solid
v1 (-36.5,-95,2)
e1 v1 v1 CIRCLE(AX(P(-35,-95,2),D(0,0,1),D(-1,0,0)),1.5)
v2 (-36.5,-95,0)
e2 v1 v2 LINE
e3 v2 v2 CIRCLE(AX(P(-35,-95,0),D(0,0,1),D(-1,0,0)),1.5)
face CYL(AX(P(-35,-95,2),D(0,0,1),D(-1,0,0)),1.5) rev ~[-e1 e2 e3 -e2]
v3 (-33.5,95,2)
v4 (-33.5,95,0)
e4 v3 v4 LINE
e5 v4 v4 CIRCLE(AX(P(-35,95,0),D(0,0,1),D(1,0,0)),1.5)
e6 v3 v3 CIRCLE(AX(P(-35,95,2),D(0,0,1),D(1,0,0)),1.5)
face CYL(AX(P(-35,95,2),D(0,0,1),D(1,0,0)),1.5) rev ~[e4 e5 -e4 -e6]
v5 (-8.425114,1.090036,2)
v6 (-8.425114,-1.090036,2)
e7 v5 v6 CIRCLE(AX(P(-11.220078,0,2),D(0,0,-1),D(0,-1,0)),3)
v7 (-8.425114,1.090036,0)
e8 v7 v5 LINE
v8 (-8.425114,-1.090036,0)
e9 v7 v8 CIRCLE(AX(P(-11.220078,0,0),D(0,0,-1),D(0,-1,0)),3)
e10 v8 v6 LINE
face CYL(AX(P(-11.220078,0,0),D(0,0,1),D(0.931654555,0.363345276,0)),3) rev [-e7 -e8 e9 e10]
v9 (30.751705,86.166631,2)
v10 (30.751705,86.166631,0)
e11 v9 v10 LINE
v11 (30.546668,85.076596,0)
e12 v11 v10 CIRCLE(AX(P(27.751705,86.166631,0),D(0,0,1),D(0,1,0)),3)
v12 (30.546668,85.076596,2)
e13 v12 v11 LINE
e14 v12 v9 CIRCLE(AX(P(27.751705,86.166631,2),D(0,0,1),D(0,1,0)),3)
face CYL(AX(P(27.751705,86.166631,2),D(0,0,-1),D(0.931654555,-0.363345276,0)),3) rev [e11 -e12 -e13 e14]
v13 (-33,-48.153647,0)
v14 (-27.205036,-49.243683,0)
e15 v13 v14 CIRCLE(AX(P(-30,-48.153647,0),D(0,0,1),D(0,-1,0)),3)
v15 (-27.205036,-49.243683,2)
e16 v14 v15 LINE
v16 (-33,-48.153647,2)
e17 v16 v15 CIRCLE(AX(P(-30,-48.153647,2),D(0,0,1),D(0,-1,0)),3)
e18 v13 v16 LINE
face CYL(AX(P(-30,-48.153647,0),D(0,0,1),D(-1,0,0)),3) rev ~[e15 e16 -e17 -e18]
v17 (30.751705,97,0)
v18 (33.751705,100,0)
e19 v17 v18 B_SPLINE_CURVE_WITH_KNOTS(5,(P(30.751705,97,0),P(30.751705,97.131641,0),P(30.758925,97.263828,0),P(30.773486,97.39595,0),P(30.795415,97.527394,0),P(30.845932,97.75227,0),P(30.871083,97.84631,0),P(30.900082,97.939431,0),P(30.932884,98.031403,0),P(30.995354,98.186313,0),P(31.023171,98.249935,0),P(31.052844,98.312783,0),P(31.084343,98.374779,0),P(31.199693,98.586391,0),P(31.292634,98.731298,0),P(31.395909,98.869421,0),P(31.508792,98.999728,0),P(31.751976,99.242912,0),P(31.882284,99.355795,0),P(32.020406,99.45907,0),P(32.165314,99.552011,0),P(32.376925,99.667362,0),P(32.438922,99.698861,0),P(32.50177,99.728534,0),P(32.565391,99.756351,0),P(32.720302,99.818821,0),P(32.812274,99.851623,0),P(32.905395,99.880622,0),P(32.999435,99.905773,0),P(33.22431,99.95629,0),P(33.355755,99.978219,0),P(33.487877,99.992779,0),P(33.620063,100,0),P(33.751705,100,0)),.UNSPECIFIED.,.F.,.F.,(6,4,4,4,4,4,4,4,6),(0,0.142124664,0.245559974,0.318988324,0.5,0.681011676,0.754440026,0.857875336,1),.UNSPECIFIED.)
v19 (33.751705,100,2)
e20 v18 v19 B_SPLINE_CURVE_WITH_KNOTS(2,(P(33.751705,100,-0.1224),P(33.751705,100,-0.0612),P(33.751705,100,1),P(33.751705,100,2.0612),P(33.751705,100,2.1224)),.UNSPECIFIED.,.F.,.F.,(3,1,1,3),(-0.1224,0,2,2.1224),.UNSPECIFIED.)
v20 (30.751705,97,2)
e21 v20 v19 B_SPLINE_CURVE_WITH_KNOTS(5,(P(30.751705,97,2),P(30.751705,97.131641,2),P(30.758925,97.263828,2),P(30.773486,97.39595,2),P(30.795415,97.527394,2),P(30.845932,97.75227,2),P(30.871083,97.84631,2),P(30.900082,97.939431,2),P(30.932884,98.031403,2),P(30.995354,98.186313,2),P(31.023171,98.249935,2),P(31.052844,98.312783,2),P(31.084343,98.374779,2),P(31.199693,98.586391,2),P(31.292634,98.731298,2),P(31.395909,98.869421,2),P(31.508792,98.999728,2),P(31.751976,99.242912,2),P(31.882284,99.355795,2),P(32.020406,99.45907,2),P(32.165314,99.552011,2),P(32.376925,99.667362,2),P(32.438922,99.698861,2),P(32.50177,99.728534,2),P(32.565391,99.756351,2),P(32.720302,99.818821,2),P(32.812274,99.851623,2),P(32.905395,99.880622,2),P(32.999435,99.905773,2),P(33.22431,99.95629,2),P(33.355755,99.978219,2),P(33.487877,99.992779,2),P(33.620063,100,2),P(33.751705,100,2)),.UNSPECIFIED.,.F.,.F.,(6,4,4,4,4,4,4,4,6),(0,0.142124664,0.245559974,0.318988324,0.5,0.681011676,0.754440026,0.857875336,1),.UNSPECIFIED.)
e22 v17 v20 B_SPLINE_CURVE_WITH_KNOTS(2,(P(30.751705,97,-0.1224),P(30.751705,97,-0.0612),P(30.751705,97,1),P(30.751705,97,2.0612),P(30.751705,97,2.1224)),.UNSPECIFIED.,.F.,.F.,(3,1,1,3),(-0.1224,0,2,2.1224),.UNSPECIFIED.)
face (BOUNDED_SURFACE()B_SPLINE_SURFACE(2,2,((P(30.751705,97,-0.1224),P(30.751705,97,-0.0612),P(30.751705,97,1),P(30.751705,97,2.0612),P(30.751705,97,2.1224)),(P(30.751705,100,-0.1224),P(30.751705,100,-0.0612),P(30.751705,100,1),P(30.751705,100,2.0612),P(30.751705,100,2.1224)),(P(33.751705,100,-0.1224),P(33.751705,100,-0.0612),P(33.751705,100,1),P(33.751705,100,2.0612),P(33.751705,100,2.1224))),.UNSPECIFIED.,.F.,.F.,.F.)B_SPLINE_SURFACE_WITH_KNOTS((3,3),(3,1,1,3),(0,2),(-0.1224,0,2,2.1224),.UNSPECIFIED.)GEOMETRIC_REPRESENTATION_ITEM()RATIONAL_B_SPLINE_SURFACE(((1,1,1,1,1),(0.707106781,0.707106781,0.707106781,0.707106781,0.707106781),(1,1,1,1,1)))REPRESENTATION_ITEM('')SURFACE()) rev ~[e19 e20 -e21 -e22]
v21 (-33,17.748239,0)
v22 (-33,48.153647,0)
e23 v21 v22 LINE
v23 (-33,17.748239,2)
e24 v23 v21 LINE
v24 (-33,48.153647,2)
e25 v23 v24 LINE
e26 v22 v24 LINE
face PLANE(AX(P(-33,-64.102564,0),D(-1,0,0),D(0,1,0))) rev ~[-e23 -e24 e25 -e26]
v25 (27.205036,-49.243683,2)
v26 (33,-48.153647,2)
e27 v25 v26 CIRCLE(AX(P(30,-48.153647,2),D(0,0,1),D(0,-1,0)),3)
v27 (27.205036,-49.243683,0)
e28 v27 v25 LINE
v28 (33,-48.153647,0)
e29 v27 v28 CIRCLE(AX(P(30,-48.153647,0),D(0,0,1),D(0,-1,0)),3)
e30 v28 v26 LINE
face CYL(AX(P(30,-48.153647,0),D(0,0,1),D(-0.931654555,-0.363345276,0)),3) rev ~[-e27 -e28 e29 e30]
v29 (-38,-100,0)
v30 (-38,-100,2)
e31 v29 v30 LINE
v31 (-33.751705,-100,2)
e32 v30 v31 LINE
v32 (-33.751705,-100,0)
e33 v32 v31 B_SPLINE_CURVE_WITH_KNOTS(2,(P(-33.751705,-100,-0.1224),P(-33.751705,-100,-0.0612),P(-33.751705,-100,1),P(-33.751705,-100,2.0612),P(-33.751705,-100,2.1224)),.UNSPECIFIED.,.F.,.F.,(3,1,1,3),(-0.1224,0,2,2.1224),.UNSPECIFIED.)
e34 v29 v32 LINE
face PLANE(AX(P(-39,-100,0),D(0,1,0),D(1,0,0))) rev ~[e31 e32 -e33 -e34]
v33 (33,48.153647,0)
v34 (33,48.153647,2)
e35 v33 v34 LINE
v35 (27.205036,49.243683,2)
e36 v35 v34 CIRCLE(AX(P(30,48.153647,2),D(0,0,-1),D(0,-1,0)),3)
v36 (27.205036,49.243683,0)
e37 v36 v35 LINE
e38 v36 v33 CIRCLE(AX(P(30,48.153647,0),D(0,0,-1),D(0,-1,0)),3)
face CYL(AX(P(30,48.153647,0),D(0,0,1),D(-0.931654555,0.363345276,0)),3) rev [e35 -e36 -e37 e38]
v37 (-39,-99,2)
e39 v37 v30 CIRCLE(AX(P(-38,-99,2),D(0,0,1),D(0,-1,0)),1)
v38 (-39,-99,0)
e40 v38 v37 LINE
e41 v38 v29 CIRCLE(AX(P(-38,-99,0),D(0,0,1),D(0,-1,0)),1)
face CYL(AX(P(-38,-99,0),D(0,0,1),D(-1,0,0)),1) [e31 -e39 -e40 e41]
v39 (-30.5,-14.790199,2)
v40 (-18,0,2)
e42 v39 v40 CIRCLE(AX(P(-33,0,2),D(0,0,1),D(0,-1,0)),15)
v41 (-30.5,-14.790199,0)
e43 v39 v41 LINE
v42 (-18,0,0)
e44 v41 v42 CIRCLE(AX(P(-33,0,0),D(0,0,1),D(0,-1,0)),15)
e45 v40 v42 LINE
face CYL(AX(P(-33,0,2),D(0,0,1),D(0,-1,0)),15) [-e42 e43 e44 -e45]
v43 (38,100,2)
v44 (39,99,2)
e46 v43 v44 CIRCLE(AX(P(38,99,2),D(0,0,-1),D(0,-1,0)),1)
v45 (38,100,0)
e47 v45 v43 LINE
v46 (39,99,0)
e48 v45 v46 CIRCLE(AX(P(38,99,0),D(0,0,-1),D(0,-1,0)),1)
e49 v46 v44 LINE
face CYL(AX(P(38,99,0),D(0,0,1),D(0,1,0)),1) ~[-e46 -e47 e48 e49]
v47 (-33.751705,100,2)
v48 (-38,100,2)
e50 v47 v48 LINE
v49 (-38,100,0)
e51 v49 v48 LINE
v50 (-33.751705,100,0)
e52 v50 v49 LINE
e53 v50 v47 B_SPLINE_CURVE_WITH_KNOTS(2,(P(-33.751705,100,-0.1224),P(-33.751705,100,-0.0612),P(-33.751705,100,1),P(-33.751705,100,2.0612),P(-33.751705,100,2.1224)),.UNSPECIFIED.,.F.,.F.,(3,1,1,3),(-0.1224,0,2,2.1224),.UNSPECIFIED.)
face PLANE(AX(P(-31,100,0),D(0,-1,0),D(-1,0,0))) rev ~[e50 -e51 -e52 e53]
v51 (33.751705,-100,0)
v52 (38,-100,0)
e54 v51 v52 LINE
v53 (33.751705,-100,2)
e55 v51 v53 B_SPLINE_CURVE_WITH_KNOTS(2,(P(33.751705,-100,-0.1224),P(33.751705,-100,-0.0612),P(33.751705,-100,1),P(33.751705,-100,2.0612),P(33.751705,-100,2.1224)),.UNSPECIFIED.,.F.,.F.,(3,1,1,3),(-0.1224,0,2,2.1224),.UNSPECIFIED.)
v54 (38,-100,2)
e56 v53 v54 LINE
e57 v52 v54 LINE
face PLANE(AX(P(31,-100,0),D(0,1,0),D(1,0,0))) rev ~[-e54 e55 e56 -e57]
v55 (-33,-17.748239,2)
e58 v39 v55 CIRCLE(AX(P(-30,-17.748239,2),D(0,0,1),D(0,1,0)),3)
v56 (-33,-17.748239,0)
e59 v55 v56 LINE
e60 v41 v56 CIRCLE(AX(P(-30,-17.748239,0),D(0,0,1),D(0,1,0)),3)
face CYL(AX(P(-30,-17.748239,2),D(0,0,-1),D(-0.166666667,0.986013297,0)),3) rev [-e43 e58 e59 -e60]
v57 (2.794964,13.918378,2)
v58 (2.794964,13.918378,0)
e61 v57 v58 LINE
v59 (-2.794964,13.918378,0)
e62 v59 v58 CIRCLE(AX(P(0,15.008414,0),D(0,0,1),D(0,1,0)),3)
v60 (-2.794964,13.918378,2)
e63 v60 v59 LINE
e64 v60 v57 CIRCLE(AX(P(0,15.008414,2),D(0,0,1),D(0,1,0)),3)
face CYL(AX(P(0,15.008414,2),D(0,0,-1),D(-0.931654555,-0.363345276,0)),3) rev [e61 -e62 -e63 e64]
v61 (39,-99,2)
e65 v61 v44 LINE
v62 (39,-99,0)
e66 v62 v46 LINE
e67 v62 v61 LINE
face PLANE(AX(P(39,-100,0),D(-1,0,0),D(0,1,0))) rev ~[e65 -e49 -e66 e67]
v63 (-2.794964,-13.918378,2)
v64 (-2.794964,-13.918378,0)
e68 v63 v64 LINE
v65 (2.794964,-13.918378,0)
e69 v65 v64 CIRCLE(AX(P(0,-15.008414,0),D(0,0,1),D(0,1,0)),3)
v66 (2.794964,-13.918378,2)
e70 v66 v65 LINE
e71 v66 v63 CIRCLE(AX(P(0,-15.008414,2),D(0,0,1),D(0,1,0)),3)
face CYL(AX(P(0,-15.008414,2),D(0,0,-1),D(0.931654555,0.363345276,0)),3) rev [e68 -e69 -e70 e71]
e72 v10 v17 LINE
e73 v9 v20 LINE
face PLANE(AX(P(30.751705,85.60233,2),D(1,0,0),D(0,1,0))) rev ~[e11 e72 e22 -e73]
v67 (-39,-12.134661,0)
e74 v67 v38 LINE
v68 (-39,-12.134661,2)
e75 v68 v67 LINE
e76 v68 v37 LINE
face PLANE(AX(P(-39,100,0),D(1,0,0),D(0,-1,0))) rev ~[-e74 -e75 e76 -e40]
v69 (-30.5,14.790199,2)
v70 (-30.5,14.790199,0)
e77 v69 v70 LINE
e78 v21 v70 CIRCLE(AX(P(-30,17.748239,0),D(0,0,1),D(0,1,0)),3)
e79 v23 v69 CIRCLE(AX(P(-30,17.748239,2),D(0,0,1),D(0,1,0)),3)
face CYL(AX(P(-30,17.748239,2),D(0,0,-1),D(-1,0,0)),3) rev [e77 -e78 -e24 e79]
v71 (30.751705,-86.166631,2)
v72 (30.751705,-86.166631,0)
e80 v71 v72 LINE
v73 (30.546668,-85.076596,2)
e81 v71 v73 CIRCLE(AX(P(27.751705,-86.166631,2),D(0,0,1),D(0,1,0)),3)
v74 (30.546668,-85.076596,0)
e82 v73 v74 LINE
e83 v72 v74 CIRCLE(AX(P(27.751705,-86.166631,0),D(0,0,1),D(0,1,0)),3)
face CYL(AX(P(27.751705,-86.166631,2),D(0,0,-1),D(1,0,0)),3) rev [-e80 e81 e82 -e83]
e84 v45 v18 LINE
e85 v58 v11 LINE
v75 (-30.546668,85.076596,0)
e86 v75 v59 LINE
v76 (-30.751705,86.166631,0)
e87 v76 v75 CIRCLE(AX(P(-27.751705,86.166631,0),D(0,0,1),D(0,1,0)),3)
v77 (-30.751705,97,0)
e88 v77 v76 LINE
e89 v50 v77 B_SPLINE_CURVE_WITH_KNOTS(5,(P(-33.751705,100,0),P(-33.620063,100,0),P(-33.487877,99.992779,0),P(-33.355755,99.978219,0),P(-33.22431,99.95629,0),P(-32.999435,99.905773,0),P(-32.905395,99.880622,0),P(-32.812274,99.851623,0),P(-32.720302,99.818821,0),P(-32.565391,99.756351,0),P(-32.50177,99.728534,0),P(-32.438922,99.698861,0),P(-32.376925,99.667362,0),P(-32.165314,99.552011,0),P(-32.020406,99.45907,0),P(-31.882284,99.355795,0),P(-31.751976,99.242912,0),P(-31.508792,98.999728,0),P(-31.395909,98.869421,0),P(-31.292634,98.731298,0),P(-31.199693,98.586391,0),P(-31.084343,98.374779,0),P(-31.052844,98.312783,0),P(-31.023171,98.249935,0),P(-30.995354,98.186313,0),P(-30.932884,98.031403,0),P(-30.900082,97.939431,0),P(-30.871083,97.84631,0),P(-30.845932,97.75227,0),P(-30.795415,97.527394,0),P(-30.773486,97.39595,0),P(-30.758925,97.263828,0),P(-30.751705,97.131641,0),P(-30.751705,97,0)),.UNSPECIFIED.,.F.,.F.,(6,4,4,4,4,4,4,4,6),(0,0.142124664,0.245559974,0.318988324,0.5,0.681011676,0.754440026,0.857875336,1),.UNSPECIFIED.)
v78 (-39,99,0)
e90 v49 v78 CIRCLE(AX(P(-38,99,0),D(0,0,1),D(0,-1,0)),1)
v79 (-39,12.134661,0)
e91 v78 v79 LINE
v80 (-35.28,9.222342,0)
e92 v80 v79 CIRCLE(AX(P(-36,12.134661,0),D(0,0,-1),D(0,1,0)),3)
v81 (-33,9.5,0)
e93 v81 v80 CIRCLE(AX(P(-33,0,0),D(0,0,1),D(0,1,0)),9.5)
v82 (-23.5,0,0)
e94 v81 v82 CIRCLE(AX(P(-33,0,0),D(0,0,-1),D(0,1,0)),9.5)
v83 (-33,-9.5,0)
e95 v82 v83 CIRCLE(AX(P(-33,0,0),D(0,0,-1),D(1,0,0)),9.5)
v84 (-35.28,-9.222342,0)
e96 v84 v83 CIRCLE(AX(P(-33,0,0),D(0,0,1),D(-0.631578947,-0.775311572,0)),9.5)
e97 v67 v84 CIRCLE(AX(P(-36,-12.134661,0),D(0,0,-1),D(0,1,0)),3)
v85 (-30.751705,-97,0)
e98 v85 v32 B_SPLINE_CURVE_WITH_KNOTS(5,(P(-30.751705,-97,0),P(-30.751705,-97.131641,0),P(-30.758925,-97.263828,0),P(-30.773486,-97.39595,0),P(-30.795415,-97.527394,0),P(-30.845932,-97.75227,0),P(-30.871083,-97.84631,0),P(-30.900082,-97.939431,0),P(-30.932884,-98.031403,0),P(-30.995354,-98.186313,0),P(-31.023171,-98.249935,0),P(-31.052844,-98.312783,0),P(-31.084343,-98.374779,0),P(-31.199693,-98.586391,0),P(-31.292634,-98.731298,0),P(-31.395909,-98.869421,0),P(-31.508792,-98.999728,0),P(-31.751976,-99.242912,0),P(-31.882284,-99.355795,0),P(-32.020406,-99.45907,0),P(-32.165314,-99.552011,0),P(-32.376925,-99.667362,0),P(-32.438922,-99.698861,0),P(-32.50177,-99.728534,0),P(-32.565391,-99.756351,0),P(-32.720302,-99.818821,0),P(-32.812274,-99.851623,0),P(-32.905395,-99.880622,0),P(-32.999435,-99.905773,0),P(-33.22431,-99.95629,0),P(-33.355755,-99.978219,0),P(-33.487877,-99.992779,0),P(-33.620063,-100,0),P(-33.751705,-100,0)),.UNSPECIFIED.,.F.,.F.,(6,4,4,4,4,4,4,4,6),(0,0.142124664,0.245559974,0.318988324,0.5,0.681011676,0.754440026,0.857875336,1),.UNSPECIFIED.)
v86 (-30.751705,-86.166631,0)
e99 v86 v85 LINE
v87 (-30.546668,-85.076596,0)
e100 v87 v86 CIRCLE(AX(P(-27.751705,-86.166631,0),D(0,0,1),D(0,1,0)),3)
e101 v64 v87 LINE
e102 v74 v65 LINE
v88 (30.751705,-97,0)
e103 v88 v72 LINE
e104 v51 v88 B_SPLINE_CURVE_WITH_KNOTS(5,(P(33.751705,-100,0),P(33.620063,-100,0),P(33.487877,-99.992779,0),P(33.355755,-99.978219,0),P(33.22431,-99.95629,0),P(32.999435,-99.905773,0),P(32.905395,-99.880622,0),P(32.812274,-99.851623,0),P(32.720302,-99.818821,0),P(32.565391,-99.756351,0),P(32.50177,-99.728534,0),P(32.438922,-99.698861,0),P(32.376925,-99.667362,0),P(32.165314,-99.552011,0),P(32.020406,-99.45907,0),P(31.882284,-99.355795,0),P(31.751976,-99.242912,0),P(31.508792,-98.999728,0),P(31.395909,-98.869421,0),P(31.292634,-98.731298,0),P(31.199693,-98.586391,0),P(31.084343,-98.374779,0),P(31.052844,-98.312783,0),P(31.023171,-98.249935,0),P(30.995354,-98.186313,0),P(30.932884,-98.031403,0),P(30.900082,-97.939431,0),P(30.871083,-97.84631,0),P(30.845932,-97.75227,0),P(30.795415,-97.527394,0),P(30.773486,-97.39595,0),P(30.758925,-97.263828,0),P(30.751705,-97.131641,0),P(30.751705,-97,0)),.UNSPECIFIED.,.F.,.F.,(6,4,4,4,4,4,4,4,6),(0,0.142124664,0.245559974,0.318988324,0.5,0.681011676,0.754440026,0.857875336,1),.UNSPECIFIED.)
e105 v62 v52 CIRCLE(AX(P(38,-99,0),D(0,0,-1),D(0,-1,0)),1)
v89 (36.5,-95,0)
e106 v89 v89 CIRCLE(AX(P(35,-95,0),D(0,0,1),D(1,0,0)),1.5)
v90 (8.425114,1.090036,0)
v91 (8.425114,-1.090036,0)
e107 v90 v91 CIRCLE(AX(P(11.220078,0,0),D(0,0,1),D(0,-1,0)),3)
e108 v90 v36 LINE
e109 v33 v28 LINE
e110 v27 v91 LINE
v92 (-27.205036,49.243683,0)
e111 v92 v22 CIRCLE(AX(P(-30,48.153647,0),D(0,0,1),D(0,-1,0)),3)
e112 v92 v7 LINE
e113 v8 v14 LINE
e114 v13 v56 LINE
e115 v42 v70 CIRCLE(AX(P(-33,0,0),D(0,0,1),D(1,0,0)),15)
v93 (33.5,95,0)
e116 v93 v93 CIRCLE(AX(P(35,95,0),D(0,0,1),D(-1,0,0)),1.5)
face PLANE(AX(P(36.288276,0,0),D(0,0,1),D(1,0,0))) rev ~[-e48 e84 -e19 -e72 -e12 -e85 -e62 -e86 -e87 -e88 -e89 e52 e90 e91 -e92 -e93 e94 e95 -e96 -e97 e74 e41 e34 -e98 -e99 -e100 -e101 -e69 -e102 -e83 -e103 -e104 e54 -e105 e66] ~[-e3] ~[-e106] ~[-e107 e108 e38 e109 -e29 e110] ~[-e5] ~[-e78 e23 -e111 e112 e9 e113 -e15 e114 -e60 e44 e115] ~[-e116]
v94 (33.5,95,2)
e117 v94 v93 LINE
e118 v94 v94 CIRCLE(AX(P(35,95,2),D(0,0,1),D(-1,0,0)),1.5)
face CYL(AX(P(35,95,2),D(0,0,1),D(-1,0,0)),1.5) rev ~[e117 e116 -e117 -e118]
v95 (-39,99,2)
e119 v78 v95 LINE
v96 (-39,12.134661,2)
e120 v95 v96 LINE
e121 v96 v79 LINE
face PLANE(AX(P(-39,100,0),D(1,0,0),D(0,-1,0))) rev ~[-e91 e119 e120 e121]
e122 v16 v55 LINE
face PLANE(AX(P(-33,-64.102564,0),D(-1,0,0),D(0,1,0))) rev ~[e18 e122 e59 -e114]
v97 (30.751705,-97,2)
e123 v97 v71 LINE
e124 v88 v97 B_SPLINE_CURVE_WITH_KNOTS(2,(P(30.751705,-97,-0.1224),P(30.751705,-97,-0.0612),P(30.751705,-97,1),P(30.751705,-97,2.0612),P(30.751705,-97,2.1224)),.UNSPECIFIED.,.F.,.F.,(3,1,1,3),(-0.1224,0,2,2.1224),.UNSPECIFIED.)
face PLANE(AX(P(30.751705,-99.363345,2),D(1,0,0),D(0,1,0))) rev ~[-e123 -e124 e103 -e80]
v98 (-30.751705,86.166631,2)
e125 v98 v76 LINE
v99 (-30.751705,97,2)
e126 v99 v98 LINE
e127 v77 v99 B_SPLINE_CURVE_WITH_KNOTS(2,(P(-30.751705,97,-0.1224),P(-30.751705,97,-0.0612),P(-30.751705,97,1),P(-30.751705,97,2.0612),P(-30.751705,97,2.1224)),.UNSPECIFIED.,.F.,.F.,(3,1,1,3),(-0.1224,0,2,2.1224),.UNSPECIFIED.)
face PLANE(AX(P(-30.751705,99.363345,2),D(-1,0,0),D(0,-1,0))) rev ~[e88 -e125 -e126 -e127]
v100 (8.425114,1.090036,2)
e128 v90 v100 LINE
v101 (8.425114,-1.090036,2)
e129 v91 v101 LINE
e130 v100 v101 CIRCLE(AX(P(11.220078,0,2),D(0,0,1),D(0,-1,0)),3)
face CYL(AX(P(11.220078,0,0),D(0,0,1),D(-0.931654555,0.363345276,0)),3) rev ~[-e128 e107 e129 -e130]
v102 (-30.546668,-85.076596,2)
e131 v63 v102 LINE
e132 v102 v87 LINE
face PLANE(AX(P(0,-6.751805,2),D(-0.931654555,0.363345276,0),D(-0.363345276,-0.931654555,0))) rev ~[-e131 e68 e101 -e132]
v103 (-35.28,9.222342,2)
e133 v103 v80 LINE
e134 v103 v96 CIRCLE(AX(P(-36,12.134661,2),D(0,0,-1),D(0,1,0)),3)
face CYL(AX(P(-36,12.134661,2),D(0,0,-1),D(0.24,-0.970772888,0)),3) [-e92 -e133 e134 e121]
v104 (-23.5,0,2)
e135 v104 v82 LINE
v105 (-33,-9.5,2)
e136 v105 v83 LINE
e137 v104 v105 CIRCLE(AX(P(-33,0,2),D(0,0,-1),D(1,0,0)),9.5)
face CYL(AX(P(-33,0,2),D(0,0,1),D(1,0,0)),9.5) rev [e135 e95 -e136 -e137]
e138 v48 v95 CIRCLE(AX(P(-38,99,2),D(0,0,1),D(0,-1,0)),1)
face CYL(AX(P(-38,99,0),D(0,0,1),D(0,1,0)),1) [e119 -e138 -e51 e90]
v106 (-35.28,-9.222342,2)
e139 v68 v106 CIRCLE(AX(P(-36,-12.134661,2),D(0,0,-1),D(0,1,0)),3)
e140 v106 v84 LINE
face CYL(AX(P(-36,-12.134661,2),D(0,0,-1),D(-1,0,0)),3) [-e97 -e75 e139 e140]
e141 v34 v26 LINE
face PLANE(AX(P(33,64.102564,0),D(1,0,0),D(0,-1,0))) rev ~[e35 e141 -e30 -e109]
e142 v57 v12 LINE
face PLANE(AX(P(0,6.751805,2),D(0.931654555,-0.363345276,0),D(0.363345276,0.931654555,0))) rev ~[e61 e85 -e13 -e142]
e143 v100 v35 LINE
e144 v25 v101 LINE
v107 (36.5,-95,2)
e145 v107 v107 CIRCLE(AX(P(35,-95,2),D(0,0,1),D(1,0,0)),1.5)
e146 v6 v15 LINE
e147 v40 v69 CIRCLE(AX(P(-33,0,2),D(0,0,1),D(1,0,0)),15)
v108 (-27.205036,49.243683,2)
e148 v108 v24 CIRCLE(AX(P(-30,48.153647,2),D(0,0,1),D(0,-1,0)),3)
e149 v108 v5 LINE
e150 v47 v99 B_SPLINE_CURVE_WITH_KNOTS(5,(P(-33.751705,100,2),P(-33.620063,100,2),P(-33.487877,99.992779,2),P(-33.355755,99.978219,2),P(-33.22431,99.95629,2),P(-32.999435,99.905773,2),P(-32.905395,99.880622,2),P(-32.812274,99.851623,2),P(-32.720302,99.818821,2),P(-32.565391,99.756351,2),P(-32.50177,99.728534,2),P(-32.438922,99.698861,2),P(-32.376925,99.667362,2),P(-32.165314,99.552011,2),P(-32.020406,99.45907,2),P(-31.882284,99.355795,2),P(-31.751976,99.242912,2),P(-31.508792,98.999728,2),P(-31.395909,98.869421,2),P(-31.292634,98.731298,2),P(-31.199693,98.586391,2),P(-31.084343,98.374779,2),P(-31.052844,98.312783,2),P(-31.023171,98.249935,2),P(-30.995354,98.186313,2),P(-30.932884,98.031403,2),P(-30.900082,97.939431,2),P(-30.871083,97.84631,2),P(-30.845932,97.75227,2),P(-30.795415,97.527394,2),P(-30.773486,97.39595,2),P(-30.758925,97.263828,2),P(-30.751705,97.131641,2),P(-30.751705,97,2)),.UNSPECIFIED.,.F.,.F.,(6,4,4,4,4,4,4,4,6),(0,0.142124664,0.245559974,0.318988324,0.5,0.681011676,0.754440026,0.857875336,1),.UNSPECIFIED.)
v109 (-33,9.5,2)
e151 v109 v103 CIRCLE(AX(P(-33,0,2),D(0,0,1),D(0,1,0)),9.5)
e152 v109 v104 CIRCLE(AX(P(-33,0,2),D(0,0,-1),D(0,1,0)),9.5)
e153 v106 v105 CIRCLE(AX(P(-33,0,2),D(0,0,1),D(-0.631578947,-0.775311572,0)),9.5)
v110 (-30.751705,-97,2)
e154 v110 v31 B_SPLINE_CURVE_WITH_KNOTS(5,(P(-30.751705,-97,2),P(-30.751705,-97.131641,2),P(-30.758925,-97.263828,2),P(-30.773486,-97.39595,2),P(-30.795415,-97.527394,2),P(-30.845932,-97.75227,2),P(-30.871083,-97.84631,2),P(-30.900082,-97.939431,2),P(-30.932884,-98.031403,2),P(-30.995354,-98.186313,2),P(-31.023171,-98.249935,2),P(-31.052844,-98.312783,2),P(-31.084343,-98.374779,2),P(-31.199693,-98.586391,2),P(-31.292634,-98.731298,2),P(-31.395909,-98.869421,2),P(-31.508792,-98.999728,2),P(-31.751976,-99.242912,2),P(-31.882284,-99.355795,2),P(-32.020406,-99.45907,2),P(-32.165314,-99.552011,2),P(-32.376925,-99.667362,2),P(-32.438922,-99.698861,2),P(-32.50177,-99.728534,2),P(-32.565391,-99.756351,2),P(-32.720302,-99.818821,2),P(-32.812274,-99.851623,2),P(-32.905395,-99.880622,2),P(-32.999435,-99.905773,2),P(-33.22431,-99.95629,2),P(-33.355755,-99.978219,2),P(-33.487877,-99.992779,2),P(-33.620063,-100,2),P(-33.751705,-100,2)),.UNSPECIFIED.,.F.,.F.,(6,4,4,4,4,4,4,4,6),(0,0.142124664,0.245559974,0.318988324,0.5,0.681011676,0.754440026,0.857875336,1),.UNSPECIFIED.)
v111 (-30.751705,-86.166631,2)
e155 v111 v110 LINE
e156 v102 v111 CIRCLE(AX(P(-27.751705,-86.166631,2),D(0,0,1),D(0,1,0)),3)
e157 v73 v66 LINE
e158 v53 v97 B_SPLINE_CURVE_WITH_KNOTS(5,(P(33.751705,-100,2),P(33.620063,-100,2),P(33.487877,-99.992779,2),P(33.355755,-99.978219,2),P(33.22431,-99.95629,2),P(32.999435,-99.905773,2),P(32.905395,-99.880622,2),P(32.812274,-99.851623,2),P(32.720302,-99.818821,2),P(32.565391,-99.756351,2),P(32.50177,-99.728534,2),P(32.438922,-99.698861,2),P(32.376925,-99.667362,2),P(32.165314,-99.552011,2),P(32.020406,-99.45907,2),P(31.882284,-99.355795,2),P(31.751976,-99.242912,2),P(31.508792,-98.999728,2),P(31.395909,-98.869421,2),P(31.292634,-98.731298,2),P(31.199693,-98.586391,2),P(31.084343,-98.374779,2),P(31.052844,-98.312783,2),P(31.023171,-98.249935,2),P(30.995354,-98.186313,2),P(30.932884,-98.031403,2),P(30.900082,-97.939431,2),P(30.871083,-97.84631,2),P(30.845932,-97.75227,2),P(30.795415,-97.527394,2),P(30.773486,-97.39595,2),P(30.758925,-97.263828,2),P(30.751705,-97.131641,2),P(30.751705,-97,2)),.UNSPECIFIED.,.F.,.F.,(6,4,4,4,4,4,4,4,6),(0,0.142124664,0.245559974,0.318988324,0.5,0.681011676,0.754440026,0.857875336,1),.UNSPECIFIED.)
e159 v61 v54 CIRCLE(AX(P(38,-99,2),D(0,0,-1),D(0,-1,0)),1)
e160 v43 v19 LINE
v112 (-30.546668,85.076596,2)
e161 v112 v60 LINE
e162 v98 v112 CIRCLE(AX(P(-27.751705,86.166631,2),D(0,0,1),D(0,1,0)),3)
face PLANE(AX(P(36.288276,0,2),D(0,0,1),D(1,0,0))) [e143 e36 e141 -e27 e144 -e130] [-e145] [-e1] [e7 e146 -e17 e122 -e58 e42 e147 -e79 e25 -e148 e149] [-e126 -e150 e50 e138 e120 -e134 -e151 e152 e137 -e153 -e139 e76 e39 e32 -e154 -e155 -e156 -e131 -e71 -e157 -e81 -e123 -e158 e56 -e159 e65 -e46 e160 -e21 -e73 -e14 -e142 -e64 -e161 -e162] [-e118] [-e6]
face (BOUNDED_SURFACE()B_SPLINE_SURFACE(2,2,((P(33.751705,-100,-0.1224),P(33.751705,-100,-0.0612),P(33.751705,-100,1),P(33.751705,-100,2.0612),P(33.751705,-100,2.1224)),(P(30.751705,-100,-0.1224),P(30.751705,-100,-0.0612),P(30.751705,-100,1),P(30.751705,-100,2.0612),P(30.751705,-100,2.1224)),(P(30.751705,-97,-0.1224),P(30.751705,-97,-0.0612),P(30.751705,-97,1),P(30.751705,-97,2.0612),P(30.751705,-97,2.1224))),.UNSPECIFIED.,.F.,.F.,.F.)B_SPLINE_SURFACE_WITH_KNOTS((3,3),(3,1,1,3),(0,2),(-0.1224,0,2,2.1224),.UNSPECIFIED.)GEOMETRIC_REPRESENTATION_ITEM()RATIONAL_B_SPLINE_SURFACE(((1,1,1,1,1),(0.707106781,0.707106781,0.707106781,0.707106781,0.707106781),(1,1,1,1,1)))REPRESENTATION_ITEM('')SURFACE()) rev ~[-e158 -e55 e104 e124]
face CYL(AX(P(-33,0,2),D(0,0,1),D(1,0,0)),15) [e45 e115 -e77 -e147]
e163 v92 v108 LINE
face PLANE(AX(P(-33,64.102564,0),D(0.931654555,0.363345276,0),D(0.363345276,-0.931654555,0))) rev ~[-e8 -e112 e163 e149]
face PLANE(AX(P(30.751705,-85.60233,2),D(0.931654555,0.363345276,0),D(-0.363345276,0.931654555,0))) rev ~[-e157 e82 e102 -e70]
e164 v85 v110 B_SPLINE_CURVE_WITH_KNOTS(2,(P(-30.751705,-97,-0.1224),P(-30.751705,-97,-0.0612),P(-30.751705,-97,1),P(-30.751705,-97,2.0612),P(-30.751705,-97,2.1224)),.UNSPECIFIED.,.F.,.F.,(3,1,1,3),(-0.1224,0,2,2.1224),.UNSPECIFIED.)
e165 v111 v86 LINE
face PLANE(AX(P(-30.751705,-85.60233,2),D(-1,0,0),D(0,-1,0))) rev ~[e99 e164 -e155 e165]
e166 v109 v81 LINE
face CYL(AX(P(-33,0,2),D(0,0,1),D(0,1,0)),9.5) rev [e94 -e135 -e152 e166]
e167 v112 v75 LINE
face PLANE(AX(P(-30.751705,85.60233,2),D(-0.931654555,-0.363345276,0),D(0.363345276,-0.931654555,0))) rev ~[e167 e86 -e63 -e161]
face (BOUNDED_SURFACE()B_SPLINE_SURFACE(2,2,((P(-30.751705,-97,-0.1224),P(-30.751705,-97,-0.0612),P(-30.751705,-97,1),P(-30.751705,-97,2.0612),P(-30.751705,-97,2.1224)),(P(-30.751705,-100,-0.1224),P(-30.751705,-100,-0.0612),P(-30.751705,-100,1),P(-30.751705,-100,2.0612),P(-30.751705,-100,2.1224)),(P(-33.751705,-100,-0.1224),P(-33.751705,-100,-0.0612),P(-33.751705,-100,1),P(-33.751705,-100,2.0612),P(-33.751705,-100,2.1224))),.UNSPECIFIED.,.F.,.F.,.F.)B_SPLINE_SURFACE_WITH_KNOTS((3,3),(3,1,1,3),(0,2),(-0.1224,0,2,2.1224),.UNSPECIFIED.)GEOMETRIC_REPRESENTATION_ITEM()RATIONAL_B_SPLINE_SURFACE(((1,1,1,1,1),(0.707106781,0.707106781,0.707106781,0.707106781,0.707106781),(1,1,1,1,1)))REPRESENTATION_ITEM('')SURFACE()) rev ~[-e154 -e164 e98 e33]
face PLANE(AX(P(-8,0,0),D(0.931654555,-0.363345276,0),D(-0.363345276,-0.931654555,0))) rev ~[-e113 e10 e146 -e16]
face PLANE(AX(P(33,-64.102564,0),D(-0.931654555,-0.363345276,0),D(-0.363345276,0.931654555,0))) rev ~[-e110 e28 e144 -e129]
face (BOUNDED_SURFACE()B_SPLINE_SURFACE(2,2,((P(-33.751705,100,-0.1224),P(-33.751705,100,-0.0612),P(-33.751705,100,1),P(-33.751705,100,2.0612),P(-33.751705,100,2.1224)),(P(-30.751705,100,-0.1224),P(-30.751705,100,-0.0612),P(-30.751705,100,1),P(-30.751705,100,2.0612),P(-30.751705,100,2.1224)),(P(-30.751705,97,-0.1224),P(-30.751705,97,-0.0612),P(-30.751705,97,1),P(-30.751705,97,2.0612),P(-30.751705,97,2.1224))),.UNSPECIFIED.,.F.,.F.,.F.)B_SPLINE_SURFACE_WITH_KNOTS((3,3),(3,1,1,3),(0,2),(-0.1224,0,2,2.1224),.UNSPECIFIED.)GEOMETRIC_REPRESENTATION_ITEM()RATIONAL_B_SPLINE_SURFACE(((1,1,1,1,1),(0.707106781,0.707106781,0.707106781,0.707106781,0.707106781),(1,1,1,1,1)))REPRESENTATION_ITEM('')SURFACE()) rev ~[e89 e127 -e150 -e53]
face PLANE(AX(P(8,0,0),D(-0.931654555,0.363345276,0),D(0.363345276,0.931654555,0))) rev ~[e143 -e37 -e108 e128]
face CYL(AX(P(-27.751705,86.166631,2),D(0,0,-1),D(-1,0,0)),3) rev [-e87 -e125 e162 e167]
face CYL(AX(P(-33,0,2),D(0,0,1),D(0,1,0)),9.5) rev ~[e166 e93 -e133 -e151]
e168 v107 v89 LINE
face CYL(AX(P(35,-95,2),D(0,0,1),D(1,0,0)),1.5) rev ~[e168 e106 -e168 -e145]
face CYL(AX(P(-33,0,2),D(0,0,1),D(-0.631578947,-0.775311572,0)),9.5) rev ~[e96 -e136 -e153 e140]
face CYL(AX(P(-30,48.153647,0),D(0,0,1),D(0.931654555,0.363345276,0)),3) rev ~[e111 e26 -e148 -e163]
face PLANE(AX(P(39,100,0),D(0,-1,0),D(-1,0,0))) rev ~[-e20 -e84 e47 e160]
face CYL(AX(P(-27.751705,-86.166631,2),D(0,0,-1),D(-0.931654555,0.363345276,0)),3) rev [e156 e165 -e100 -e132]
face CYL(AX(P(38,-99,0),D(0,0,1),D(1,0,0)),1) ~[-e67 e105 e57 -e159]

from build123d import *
from build123d.topology import SkipClean

# Parameters (mm, degrees)
EXTRUDE_1_DEPTH     = 2
SKETCH_4_R          = 1.5
CUT_EXTRUDE_3_DEPTH = 108.354552768
FILLET_4_R          = 1
CUT_EXTRUDE_5_DEPTH = 108.354552768
FILLET_7_R          = 3
EXTRUDE_2_DEPTH     = 2
CUT_EXTRUDE_6_DEPTH = 108.354552899
FILLET_8_R          = 3


with BuildPart() as part:
    # 草图1 → 凸台-拉伸1 (new body)
    with BuildSketch(Plane.XY):
        Polygon((39, 79.487179487), (33, 64.102564103), (33, -64.102564103), (39, -79.487179487), align=None)
        Polygon((33, -64.102564103), (8, 0), (0, -20.512820513), (31, -100), (39, -100), (39, -79.487179487), align=None)
        Polygon((-31, -100), (0, -20.512820513), (-8, 0), (-33, -64.102564103), (-39, -79.487179487), (-39, -100), align=None)
        Polygon((-33, -64.102564103), (-33, 64.102564103), (-39, 79.487179487), (-39, -79.487179487), align=None)
        Polygon((0, -20.512820513), (8, 0), (0, 20.512820513), (-8, 0), align=None)
        Polygon((8, 0), (33, 64.102564103), (39, 79.487179487), (39, 100), (31, 100), (0, 20.512820513), align=None)
        Polygon((-8, 0), (0, 20.512820513), (-31, 100), (-39, 100), (-39, 79.487179487), (-33, 64.102564103), align=None)
    extrude(amount=EXTRUDE_1_DEPTH)

    # 草图4 → 切除-拉伸3 (cut, through all)
    with BuildSketch(Plane.XY.offset(2)):
        with Locations((-35, 95)):
            Circle(SKETCH_4_R)
        with Locations(Location((-35, -95, 0), (0, 0, 180))):
            Circle(SKETCH_4_R)
        with Locations((35, -95)):
            Circle(SKETCH_4_R)
        with Locations(Location((35, 95, 0), (0, 0, 180))):
            Circle(SKETCH_4_R)
    extrude(amount=-CUT_EXTRUDE_3_DEPTH, mode=Mode.SUBTRACT)

    # 圆角4
    fillet_4_edges = [part.edges().sort_by_distance(p)[0] for p in [
        (39, -100, 1),
        (31, -100, 1),
        (-31, -100, 1),
        (-39, -100, 1),
        (-39, 100, 1),
        (-31, 100, 1),
        (31, 100, 1),
        (39, 100, 1),
    ]]
    fillet(fillet_4_edges, radius=FILLET_4_R)

    # 草图6 → 切除-拉伸5 (cut, through all)
    with BuildSketch(Plane.XY.offset(2)):
        Polygon((-30.751704658, -85.602329726), (-30.751704658, -99.363345276), (0, -20.512820513), (30.751704658, -99.363345276), (30.751704658, -85.602329726), (0, -6.751804962), align=None)
        Polygon((30.751704658, 85.602329726), (30.751704658, 99.363345276), (0, 20.512820513), (-30.751704658, 99.363345276), (-30.751704658, 85.602329726), (0, 6.751804962), align=None)
    extrude(amount=-CUT_EXTRUDE_5_DEPTH, mode=Mode.SUBTRACT)

    # 圆角7
    fillet_7_edges = [part.edges().sort_by_distance(p)[0] for p in [
        (30.751704658, 85.602329726, 1),
        (0, 6.751804962, 1),
        (-30.751704658, 85.602329726, 1),
        (-30.751704658, 99.363345276, 1),
        (-30.751704658, -99.363345276, 1),
        (0, -6.751804962, 1),
        (30.751704658, -85.602329726, 1),
        (30.751704658, -99.363345276, 1),
        (30.751704658, 99.363345276, 1),
        (33, 64.102564103, 1),
        (33, -64.102564103, 1),
        (8, 0, 1),
        (-8, 0, 1),
        (-33, -64.102564103, 1),
        (-33, 64.102564103, 1),
        (-30.751704658, -85.602329726, 1),
    ]]
    fillet(fillet_7_edges, radius=FILLET_7_R)

    # 草图7 → 凸台-拉伸2 (add, through all)
    with BuildSketch(Plane.XY.offset(2)):
        with BuildLine():
            ThreePointArc((-33, 9.5), (-26.282485579, 6.717514421), (-23.5, 0))
            ThreePointArc((-23.5, 0), (-26.282485579, -6.717514421), (-33, -9.5))
            Line((-33, -9.5), (-33, -15))
            ThreePointArc((-33, -15), (-22.393398282, -10.606601718), (-18, 0))
            ThreePointArc((-18, 0), (-22.393398282, 10.606601718), (-33, 15))
            Line((-33, 15), (-33, 9.5))
        make_face()
    extrude(amount=-EXTRUDE_2_DEPTH)

    # 草图7<4> → 切除-拉伸6 (cut, through all)
    with SkipClean():  # the faces are left unmerged after this step: merging them gives an invalid solid
        with BuildSketch(Plane.XY.offset(2)):
            with BuildLine():
                Line((-33, -9.5), (-33, 9.5))
                ThreePointArc((-33, 9.5), (-36.184189901, 8.950471198), (-39, 7.365459931))
                Line((-39, 7.365459931), (-39, -7.365459931))
                ThreePointArc((-39, -7.365459931), (-36.184189901, -8.950471198), (-33, -9.5))
            make_face()
        extrude(amount=-CUT_EXTRUDE_6_DEPTH, mode=Mode.SUBTRACT)

    # 圆角8
    fillet_8_edges = [part.edges().sort_by_distance(p)[0] for p in [
        (-33, -15, 1),
        (-33, 15, 1),
        (-39, -7.365459931, 1),
        (-39, 7.365459931, 1),
    ]]
    fillet(fillet_8_edges, radius=FILLET_8_R)


solid = part.part
